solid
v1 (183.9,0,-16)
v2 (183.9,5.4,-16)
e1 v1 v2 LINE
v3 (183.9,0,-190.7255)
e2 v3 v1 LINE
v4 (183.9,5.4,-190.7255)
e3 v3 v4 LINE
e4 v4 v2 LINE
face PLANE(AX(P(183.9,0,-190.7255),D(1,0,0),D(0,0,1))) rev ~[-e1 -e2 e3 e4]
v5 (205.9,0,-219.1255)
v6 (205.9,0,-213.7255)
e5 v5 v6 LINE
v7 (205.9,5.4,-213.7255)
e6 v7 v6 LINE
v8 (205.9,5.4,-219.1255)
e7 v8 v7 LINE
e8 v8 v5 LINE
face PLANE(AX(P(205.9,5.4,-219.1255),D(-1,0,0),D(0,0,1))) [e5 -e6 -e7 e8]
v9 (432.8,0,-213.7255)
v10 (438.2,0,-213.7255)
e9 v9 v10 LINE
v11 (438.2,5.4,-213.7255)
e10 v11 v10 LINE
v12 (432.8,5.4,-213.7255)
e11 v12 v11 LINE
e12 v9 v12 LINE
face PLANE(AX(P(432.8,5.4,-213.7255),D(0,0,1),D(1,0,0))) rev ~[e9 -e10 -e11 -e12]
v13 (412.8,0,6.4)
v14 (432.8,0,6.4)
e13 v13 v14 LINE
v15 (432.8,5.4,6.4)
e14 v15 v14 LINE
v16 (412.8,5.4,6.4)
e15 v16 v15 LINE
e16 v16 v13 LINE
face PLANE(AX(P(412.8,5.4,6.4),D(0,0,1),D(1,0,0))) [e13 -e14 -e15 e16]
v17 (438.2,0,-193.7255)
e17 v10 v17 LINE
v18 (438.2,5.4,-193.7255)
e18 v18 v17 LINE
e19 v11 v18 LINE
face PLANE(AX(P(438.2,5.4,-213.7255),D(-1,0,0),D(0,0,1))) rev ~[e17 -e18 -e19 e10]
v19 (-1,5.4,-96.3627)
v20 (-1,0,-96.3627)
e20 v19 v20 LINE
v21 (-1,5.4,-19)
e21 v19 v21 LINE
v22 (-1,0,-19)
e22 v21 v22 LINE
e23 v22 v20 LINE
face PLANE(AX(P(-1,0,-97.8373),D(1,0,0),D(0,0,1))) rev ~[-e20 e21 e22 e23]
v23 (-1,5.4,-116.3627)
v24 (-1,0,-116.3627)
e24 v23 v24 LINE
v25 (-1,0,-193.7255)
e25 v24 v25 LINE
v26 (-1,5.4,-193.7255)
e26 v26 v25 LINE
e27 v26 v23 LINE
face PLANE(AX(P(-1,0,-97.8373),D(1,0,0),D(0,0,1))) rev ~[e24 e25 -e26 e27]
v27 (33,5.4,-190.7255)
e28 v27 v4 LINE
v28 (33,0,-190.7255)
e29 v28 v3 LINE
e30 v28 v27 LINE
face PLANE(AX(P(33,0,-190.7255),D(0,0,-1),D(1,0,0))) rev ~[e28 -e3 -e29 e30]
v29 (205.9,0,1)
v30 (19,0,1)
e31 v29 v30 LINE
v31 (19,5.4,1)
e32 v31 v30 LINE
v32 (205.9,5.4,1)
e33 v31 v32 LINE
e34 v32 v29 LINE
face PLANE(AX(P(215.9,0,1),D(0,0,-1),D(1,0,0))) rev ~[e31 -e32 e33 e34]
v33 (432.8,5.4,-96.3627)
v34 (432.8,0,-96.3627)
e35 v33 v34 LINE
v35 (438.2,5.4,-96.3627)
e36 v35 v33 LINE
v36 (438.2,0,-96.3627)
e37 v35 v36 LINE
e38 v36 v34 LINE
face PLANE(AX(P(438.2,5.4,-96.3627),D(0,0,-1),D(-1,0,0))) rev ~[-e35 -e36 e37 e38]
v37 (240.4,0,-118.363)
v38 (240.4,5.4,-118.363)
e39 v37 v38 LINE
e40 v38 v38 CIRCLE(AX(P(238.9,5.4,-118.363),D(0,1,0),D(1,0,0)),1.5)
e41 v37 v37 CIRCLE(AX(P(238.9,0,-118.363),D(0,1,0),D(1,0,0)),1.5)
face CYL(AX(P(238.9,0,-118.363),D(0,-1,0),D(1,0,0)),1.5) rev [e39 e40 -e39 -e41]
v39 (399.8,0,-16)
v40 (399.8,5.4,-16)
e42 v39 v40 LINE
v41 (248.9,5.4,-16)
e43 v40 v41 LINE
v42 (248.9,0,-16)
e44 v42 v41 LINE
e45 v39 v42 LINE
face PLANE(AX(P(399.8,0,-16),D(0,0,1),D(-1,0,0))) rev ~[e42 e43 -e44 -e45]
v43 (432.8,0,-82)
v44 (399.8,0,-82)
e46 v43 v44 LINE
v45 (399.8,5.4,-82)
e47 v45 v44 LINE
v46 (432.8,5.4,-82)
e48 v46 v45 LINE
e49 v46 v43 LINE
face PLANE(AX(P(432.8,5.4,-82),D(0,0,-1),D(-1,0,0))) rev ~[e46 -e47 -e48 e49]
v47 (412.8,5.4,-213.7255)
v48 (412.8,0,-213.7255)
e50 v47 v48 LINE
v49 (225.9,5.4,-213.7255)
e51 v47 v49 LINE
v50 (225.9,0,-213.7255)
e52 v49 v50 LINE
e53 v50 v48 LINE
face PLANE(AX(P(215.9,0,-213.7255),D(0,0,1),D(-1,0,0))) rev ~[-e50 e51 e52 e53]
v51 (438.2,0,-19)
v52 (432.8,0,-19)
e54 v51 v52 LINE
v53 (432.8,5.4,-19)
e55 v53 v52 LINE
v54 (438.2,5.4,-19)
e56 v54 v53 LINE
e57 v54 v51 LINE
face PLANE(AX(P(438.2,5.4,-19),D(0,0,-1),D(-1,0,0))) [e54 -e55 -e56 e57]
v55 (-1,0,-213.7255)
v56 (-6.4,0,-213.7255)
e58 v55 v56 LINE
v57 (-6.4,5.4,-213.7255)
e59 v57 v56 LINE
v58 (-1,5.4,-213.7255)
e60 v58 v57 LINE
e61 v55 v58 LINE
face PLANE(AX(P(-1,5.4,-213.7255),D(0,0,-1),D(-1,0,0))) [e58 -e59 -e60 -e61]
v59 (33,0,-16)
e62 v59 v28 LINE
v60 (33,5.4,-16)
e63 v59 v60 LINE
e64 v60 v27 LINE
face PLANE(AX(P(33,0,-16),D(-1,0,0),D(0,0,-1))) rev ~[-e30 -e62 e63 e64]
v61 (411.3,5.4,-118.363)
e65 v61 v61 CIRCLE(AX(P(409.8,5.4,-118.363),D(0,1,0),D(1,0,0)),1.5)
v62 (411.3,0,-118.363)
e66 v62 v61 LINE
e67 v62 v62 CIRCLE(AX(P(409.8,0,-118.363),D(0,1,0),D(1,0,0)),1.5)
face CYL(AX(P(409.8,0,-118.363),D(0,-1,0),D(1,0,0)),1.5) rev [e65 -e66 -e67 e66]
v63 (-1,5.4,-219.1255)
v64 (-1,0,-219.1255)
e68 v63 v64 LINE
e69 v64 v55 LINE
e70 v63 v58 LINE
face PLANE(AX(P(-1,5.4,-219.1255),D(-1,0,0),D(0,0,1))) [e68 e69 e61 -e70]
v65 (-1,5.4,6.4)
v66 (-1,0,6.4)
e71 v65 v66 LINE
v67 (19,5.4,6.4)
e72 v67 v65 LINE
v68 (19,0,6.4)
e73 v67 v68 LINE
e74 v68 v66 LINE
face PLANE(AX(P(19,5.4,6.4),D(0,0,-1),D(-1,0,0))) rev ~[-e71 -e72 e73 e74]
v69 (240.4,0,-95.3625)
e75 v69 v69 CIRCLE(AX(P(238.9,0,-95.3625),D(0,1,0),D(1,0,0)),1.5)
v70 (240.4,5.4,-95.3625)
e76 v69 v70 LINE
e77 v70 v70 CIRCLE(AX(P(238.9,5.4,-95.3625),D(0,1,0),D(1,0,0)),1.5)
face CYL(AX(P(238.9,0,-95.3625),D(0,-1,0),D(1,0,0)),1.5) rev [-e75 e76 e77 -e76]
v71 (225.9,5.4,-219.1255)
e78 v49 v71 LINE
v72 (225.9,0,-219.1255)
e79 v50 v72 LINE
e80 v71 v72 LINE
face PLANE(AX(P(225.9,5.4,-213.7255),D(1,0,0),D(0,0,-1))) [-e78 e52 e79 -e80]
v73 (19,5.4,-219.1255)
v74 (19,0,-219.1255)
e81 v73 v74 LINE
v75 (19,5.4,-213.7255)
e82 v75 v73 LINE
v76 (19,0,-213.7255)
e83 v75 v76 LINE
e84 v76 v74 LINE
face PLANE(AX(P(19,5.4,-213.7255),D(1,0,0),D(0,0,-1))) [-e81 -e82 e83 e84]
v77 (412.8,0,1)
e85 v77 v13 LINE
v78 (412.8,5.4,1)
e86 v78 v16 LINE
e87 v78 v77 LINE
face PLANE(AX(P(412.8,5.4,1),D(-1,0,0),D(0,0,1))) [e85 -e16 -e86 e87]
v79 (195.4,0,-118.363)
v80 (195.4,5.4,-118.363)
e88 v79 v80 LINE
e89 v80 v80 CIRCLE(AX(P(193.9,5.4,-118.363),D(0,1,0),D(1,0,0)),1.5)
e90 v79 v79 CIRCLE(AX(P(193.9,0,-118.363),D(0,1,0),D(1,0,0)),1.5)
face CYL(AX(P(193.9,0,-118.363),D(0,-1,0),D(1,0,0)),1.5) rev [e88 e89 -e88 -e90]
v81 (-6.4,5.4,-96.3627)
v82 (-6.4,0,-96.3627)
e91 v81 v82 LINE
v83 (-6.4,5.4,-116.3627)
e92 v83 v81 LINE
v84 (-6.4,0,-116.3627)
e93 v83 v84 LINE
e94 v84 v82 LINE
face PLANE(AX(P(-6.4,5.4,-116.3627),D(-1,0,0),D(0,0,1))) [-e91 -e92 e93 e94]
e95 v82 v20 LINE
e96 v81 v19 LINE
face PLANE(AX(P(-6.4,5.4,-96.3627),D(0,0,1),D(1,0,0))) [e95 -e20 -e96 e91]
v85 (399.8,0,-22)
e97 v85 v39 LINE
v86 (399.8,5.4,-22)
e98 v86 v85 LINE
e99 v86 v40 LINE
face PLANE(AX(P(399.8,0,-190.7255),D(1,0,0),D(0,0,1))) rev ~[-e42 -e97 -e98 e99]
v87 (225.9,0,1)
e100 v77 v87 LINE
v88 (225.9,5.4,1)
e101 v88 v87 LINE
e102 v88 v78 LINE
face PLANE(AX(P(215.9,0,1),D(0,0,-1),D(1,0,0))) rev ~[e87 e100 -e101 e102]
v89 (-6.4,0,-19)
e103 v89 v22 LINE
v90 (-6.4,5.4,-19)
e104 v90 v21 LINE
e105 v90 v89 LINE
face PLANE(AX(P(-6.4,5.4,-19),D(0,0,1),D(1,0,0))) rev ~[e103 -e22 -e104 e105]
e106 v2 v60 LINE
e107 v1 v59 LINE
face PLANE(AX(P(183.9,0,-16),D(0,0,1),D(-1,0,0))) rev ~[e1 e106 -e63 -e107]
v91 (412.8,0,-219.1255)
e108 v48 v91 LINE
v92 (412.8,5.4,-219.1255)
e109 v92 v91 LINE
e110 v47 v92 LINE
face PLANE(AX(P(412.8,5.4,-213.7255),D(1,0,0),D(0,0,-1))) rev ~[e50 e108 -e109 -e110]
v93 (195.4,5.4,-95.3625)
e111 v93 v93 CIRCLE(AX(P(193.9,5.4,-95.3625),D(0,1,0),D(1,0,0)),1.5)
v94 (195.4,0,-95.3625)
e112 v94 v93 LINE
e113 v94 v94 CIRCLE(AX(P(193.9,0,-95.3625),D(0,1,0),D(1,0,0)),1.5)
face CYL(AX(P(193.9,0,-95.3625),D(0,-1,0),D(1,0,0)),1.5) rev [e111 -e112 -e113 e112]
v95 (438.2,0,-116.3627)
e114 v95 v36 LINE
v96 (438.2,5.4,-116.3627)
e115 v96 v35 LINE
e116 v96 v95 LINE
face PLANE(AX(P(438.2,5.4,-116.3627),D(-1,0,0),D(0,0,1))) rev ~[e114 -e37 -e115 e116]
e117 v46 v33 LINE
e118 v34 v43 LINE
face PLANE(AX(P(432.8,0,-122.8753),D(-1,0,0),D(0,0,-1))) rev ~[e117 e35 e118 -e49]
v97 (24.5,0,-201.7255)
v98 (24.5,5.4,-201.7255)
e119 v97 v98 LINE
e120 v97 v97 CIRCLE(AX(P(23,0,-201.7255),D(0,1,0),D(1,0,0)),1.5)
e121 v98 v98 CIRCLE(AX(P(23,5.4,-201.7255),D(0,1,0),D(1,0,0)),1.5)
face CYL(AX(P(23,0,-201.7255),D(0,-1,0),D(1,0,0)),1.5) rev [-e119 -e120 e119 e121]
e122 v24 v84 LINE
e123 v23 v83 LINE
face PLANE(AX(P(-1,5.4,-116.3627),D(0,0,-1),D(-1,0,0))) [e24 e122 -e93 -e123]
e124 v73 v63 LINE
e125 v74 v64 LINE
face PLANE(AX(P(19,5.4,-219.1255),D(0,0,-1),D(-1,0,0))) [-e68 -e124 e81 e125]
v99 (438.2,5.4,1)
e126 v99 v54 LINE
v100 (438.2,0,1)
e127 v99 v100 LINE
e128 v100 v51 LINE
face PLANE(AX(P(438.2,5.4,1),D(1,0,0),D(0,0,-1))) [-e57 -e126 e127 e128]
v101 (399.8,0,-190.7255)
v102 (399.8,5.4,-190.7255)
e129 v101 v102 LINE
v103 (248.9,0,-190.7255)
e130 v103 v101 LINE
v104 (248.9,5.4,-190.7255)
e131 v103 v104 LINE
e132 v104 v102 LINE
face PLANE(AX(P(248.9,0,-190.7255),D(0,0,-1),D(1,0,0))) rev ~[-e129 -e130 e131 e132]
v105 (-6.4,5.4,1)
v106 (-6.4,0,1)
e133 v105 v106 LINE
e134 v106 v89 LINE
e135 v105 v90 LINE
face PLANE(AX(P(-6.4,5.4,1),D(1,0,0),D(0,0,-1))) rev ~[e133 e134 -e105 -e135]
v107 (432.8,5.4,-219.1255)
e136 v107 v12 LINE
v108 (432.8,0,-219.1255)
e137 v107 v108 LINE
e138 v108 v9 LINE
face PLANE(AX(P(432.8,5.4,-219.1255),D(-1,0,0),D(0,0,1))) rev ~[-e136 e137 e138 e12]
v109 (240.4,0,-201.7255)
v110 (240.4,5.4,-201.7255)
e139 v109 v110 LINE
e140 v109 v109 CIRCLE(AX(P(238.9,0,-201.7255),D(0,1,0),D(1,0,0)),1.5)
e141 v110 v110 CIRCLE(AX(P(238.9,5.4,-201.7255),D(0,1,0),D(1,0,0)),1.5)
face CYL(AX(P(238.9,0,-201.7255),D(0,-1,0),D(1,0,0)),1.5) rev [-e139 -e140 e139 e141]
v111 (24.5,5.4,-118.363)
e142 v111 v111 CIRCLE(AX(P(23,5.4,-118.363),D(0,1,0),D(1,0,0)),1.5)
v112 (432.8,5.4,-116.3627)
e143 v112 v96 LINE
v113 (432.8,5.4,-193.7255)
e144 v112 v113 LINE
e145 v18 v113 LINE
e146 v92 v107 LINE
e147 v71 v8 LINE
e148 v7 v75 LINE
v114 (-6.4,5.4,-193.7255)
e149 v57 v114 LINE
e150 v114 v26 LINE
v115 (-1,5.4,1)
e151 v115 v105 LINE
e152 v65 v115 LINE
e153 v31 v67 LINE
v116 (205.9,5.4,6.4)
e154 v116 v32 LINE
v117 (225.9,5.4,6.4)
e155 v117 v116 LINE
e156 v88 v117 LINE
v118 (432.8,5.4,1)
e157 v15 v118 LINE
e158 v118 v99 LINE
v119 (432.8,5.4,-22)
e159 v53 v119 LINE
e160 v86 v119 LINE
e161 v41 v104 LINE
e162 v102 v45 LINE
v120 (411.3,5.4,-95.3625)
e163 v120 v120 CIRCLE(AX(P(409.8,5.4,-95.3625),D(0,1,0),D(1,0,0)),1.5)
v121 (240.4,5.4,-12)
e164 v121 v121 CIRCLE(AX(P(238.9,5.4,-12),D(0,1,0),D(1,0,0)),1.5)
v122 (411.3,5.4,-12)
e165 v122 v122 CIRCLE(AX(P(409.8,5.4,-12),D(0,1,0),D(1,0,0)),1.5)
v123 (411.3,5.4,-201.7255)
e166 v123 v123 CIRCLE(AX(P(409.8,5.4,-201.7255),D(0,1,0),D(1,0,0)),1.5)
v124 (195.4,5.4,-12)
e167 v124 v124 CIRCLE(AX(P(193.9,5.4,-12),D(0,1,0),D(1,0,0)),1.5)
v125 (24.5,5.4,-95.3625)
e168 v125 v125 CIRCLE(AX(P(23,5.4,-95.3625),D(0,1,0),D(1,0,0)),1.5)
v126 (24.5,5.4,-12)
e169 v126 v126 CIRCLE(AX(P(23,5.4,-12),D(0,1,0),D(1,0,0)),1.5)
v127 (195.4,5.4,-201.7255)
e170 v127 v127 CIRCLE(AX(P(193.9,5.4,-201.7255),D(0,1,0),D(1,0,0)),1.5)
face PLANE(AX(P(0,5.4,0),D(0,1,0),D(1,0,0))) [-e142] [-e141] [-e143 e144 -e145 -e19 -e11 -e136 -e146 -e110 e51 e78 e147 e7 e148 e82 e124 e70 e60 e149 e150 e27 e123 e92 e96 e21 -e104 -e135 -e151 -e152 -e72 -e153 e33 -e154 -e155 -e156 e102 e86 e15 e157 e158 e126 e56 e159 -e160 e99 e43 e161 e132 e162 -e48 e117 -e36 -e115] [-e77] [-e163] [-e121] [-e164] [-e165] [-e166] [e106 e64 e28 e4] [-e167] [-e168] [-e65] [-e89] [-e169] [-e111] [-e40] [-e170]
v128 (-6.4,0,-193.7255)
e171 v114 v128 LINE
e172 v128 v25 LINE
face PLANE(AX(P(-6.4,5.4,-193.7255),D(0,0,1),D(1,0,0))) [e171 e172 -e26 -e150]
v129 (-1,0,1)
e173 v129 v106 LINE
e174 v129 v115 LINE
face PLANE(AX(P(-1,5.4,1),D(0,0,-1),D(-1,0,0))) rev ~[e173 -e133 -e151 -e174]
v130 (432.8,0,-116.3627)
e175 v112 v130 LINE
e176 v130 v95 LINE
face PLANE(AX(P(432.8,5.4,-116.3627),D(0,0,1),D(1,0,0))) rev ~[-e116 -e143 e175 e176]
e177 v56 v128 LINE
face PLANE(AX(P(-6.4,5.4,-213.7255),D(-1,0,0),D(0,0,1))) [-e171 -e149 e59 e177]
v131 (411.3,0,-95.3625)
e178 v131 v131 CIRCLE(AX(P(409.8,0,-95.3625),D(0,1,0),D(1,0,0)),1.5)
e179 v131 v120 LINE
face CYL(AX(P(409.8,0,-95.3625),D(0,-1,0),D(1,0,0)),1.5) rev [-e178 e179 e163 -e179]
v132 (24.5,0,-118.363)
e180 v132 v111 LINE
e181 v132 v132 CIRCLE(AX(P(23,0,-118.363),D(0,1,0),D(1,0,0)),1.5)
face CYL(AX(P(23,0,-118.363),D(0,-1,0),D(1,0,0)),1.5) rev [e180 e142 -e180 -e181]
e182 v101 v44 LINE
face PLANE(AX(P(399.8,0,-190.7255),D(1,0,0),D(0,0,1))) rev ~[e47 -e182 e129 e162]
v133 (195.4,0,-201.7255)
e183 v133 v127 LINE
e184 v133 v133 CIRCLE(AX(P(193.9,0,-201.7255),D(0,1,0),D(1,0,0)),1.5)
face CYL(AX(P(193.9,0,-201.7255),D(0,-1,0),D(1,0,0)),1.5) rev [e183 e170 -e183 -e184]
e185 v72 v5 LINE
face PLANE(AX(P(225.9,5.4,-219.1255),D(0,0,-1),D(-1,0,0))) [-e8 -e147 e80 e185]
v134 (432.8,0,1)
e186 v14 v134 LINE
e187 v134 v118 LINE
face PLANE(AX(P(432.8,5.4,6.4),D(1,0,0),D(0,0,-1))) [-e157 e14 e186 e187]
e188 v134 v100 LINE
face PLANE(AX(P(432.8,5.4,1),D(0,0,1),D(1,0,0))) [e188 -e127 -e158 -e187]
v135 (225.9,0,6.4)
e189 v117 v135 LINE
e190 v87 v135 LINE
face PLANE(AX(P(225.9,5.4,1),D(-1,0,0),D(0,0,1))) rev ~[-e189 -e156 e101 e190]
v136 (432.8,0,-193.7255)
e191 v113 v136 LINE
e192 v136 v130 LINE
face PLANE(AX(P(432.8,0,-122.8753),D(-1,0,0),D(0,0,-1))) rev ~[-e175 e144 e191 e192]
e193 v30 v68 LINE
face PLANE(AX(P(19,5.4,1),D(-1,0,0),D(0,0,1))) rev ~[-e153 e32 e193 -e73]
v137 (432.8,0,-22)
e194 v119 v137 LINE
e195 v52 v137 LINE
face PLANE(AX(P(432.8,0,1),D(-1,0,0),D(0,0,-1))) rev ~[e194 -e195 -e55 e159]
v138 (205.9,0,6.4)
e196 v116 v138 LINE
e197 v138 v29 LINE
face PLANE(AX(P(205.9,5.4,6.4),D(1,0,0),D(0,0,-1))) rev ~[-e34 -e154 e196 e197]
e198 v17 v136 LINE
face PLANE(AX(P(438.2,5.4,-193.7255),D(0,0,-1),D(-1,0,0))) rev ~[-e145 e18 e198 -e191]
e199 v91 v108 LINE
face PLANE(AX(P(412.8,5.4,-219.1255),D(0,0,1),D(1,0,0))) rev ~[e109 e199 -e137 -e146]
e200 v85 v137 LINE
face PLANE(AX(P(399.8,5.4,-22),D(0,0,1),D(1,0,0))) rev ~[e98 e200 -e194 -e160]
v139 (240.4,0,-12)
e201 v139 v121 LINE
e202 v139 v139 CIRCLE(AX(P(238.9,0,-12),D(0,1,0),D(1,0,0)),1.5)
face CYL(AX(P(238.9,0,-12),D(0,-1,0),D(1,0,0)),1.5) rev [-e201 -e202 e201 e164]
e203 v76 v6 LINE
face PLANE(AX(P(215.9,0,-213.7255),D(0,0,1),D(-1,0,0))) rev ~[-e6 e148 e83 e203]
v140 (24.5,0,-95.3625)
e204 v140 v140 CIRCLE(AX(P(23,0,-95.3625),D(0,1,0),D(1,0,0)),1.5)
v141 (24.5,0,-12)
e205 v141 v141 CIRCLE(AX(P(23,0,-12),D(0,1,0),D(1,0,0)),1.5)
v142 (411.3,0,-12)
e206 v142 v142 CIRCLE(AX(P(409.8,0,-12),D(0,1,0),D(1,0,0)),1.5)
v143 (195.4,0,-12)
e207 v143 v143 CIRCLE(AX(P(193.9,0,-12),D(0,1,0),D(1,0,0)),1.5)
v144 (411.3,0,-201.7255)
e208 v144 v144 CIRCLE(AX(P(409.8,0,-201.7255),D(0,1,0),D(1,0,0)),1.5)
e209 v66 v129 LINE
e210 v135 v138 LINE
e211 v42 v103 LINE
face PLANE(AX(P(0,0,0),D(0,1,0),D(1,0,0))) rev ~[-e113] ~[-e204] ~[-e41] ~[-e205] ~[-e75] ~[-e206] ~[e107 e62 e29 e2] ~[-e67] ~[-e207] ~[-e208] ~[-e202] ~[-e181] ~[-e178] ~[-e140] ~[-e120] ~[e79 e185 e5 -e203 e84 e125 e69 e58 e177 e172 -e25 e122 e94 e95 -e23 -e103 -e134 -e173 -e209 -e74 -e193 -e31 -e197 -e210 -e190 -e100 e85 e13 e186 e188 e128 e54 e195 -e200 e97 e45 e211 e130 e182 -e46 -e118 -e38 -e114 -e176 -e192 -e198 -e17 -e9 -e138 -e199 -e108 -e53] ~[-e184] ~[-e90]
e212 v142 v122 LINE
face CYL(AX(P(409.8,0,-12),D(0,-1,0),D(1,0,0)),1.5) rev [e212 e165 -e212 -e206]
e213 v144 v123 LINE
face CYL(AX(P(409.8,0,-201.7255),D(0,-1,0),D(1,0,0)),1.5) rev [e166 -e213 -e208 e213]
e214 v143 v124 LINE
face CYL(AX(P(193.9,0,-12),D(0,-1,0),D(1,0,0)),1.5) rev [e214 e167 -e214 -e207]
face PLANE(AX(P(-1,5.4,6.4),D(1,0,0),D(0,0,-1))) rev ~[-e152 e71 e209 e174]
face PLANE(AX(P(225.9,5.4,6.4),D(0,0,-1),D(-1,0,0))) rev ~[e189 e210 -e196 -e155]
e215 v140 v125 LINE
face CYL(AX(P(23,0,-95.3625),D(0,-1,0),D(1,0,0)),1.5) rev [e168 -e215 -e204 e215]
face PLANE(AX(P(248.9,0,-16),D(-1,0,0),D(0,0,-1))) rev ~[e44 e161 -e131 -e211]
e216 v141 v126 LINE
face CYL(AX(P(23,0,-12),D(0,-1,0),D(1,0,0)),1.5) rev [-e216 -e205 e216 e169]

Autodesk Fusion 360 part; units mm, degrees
sketch "Sketch1" plane through (0, 0, 0) normal (0, 1, 0) x (1, 0, 0)
  line L0 (193.9, 118.363) -> (193.9, 201.7255) construction
  line L1 (183.9, 190.7255) -> (183.9, 16)
  line L2 (23, 201.7255) -> (23, 118.363) construction
  line L3 (23, 12) -> (193.9, 12) construction
  circle A0 centre (23, 12) radius 1.5
  circle A1 centre (238.9, 12) radius 1.5
  line L4 (193.9, 95.3625) -> (23, 95.3625) construction
  line L5 (399.8, 190.7255) -> (399.8, 16)
  circle A2 centre (238.9, 95.3625) radius 1.5
  circle A3 centre (23, 201.7255) radius 1.5
  line L6 (33, 16) -> (33, 190.7255)
  line L7 (0, 212.7255) -> (0, 106.363) construction
  circle A4 centre (23, 118.363) radius 1.5
  circle A5 centre (193.9, 201.7255) radius 1.5
  circle A6 centre (23, 95.3625) radius 1.5
  line L8 (0, 106.3625) -> (0, 0) construction
  circle A7 centre (193.9, 95.3625) radius 1.5
  line L9 (23, 118.363) -> (193.9, 118.363) construction
  line L10 (193.9, 12) -> (193.9, 95.3625) construction
  circle A8 centre (193.9, 118.363) radius 1.5
  circle A9 centre (193.9, 12) radius 1.5
  line L11 (183.9, 16) -> (33, 16)
  line L12 (215.9, 0) -> (215.9, 106.3625) construction
  circle A10 centre (409.8, 118.363) radius 1.5
  line L13 (238.9, 118.363) -> (409.8, 118.363) construction
  line L14 (23, 95.3625) -> (23, 12) construction
  line L15 (215.9, 0) -> (431.8, 0) construction
  line L16 (431.8, 0) -> (431.8, 106.3625) construction
  line L17 (0, 106.363) -> (215.9, 106.363) construction
  circle A11 centre (409.8, 201.7255) radius 1.5
  line L18 (215.9, 106.3625) -> (0, 106.3625) construction
  line L19 (409.8, 201.7255) -> (238.9, 201.7255) construction
  line L20 (409.8, 12) -> (409.8, 95.3625) construction
  line L21 (215.9, 212.7255) -> (0, 212.7255) construction
  line L22 (0, 0) -> (215.9, 0) construction
  line L23 (215.9, 106.3625) -> (215.9, 0) construction
  circle A12 centre (409.8, 12) radius 1.5
  line L24 (215.9, 106.363) -> (431.8, 106.363) construction
  line L25 (409.8, 118.363) -> (409.8, 201.7255) construction
  line L26 (215.9, 106.363) -> (215.9, 212.7255) construction
  line L27 (238.9, 95.3625) -> (238.9, 12) construction
  circle A13 centre (409.8, 95.3625) radius 1.5
  line L28 (238.9, 12) -> (409.8, 12) construction
  line L29 (248.9, 16) -> (248.9, 190.7255)
  line L30 (248.9, 190.7255) -> (399.8, 190.7255)
  line L31 (431.8, 106.363) -> (431.8, 212.7255) construction
  line L32 (399.8, 16) -> (248.9, 16)
  line L33 (431.8, 212.7255) -> (215.9, 212.7255) construction
  line L34 (409.8, 95.3625) -> (238.9, 95.3625) construction
  line L35 (193.9, 201.7255) -> (23, 201.7255) construction
  line L36 (431.8, 106.3625) -> (215.9, 106.3625) construction
  line L37 (33, 190.7255) -> (183.9, 190.7255)
  circle A14 centre (238.9, 118.363) radius 1.5
  circle A15 centre (238.9, 201.7255) radius 1.5
  line L38 (238.9, 201.7255) -> (238.9, 118.363) construction
  line L39 (215.9, 212.7255) -> (215.9, 106.363) construction
  line L40 (432.8, 122.8753) -> (432.8, 213.7255)
  line L41 (432.8, 213.7255) -> (215.9, 213.7255)
  line L42 (215.9, 213.7255) -> (-1, 213.7255)
  line L43 (-1, 213.7255) -> (-1, 97.8373)
  line L44 (-1, 97.8373) -> (-1, -1)
  line L45 (-1, -1) -> (215.9, -1)
  line L46 (215.9, -1) -> (432.8, -1)
  line L47 (432.8, -1) -> (432.8, 122.8753)
  point P0 (215.9, 106.363)
  point P1 (0, 106.363)
  point P2 (215.9, 0)
  dimension "d3" = 215.9
  dimension "d4" = 106.363
  dimension "d5" = 106.3625
  dimension "d6" = 215.9
  dimension "d7" = 23
  dimension "d8" = 11
  dimension "d9" = 12
  dimension "d10" = 22
  dimension "d11" = 3
  dimension "d12" = 3
  dimension "d13" = 3
  dimension "d14" = 3
  dimension "d15" = 10
  dimension "d16" = 11
  dimension "d17" = 4
  dimension "d18" = 10
  dimension "d19" = 10
  dimension "d20" = 11
  dimension "d21" = 10
  dimension "d22" = 4
  dimension "d23" = 1
  dimension "d24" = 1
extrude "Extrude1" add sketch "Sketch1" along normal blind 5.4
sketch "Sketch2" plane through (0, 5.4, 0) normal (0, 1, 0) x (-1, 0, 0)
  circle A0 centre (-409.8, -12) radius 1.5
  circle A1 centre (-23, -95.3625) radius 1.5
  circle A2 centre (-409.8, -201.7255) radius 1.5
  circle A3 centre (-409.8, -95.3625) radius 1.5
  circle A4 centre (-238.9, -118.363) radius 1.5
  circle A5 centre (-238.9, -201.7255) radius 1.5
  circle A6 centre (-23, -12) radius 1.5
  circle A7 centre (-193.9, -201.7255) radius 1.5
  circle A8 centre (-193.9, -95.3625) radius 1.5
  line L0 (-399.8, -190.7255) -> (-399.8, -16)
  line L1 (-399.8, -16) -> (-248.9, -16)
  line L2 (-248.9, -16) -> (-248.9, -190.7255)
  line L3 (-248.9, -190.7255) -> (-399.8, -190.7255)
  circle A9 centre (-23, -201.7255) radius 1.5
  line L4 (-33, -16) -> (-33, -190.7255)
  line L5 (-33, -190.7255) -> (-183.9, -190.7255)
  line L6 (-183.9, -190.7255) -> (-183.9, -16)
  line L7 (-183.9, -16) -> (-33, -16)
  circle A10 centre (-23, -118.363) radius 1.5
  circle A11 centre (-238.9, -12) radius 1.5
  circle A12 centre (-238.9, -95.3625) radius 1.5
  circle A13 centre (-193.9, -118.363) radius 1.5
  circle A14 centre (-409.8, -118.363) radius 1.5
  circle A15 centre (-193.9, -12) radius 1.5
  line L8 (-432.8, 1) -> (-432.8, -122.8753)
  line L9 (-432.8, -122.8753) -> (-432.8, -213.7255)
  line L10 (-432.8, -213.7255) -> (1, -213.7255)
  line L11 (1, -213.7255) -> (1, -97.8373)
  line L12 (1, -97.8373) -> (1, 1)
  line L13 (1, 1) -> (-432.8, 1)
  line L14 (-399.8, -22) -> (-432.8, -22)
  line L15 (-432.8, -22) -> (-432.8, -82)
  line L16 (-432.8, -82) -> (-399.8, -82)
  line L17 (-399.8, -82) -> (-399.8, -22)
  dimension "d27" = 60
  dimension "d65" = 6
  dimension "d66" = 60
extrude "Extrude2" cut sketch "Sketch2" against normal blind 20 contours L0 L8 L14 L15 L16 L17
sketch "Sketch3" plane through (0, 5.4, 0) normal (0, 1, 0) x (-1, 0, 0)
  circle A0 centre (-193.9, -12) radius 1.5
  circle A1 centre (-409.8, -118.363) radius 1.5
  circle A2 centre (-193.9, -118.363) radius 1.5
  circle A3 centre (-238.9, -95.3625) radius 1.5
  circle A4 centre (-238.9, -12) radius 1.5
  circle A5 centre (-23, -118.363) radius 1.5
  line L0 (-33, -16) -> (-33, -190.7255)
  line L1 (-33, -190.7255) -> (-183.9, -190.7255)
  line L2 (-183.9, -190.7255) -> (-183.9, -16)
  line L3 (-183.9, -16) -> (-33, -16)
  circle A6 centre (-23, -201.7255) radius 1.5
  line L4 (-432.8, -22) -> (-399.8, -22)
  line L5 (-248.9, -16) -> (-248.9, -190.7255)
  line L6 (-248.9, -190.7255) -> (-399.8, -190.7255)
  line L7 (-399.8, -22) -> (-399.8, -16)
  line L8 (-399.8, -82) -> (-432.8, -82)
  line L9 (-432.8, -82) -> (-432.8, -122.8753)
  line L10 (-432.8, -122.8753) -> (-432.8, -213.7255)
  line L11 (-432.8, -213.7255) -> (1, -213.7255)
  line L12 (1, -213.7255) -> (1, -97.8373)
  line L13 (1, -97.8373) -> (1, 1)
  line L14 (1, 1) -> (-432.8, 1)
  line L15 (-432.8, 1) -> (-432.8, -22)
  circle A7 centre (-193.9, -95.3625) radius 1.5
  circle A8 centre (-193.9, -201.7255) radius 1.5
  circle A9 centre (-23, -12) radius 1.5
  circle A10 centre (-238.9, -201.7255) radius 1.5
  circle A11 centre (-238.9, -118.363) radius 1.5
  circle A12 centre (-409.8, -95.3625) radius 1.5
  circle A13 centre (-409.8, -201.7255) radius 1.5
  circle A14 centre (-23, -95.3625) radius 1.5
  circle A15 centre (-409.8, -12) radius 1.5
  line L16 (1, -213.7255) -> (6.4, -213.7255)
  line L17 (6.4, -213.7255) -> (6.4, -193.7255)
  line L18 (6.4, -193.7255) -> (1, -193.7255)
  line L19 (1, -193.7255) -> (1, -213.7255)
  line L20 (1, 1) -> (6.4, 1)
  line L21 (6.4, 1) -> (6.4, -19)
  line L22 (6.4, -19) -> (1, -19)
  line L23 (1, -19) -> (1, 1)
  line L24 (1, 1) -> (-19, 1)
  line L25 (-19, 1) -> (-19, 6.4)
  line L26 (-19, 6.4) -> (1, 6.4)
  line L27 (1, 6.4) -> (1, 1)
  line L28 (1, -213.7255) -> (-19, -213.7255)
  line L29 (-19, -213.7255) -> (-19, -219.1255)
  line L30 (-19, -219.1255) -> (1, -219.1255)
  line L31 (1, -219.1255) -> (1, -213.7255)
  line L32 (-432.8, -213.7255) -> (-412.8, -213.7255)
  line L33 (-412.8, -213.7255) -> (-412.8, -219.1255)
  line L34 (-412.8, -219.1255) -> (-432.8, -219.1255)
  line L35 (-432.8, -219.1255) -> (-432.8, -213.7255)
  line L36 (-432.8, -213.7255) -> (-438.2, -213.7255)
  line L37 (-438.2, -213.7255) -> (-438.2, -193.7255)
  line L38 (-438.2, -193.7255) -> (-432.8, -193.7255)
  line L39 (-432.8, -193.7255) -> (-432.8, -213.7255)
  line L40 (-432.8, 1) -> (-438.2, 1)
  line L41 (-438.2, 1) -> (-438.2, -19)
  line L42 (-438.2, -19) -> (-432.8, -19)
  line L43 (-432.8, -19) -> (-432.8, 1)
  line L44 (-432.8, 1) -> (-412.8, 1)
  line L45 (-412.8, 1) -> (-412.8, 6.4)
  line L46 (-412.8, 6.4) -> (-432.8, 6.4)
  line L47 (-432.8, 6.4) -> (-432.8, 1)
  line L48 (-205.9, 1) -> (-225.9, 1)
  line L49 (-225.9, 1) -> (-225.9, 6.4)
  line L50 (-225.9, 6.4) -> (-205.9, 6.4)
  line L51 (-205.9, 6.4) -> (-205.9, 1)
  line L52 (-205.9, -213.7255) -> (-225.9, -213.7255)
  line L53 (-225.9, -213.7255) -> (-225.9, -219.1255)
  line L54 (-225.9, -219.1255) -> (-205.9, -219.1255)
  line L55 (-205.9, -219.1255) -> (-205.9, -213.7255)
  line L56 (-399.8, -16) -> (-248.9, -16)
  line L57 (-399.8, -190.7255) -> (-399.8, -82)
  dimension "d30" = 5.4
  dimension "d31" = 20
  dimension "d32" = 5.4
  dimension "d33" = 20
  dimension "d34" = 20
  dimension "d35" = 5.4
  dimension "d36" = 5.4
  dimension "d37" = 20
  dimension "d38" = 20
  dimension "d39" = 5.4
  dimension "d40" = 5.4
  dimension "d41" = 20
  dimension "d42" = 5.4
  dimension "d43" = 20
  dimension "d44" = 20
  dimension "d45" = 5.4
  dimension "d46" = 20
  dimension "d47" = 5.4
  dimension "d48" = 20
  dimension "d49" = 5.4
  dimension "d50" = 206.9
  dimension "d51" = 206.9
  dimension "d63" = 433.8
extrude "Extrude3" add sketch "Sketch3" against normal blind 5.4 contours L15 L40 L41 L42 L43 | L14 L44 L45 L46 L47 | L14 L48 L49 L50 L51 | L14 L24 L25 L26 L27 | L13 L20 L21 L22 L23 | L10 L36 L37 L38 L39 | L11 L32 L33 L34 L35 | L12 L16 L17 L18 L19 | L11 L28 L29 L30 L31 | L11 L52 L53 L54 L55
sketch "Sketch4" plane through (0, 5.4, 0) normal (0, 1, 0) x (-1, 0, 0)
  circle A0 centre (-193.9, -12) radius 1.5
  circle A1 centre (-409.8, -118.363) radius 1.5
  circle A2 centre (-193.9, -118.363) radius 1.5
  circle A3 centre (-238.9, -95.3625) radius 1.5
  circle A4 centre (-238.9, -12) radius 1.5
  circle A5 centre (-23, -118.363) radius 1.5
  line L0 (-33, -16) -> (-33, -190.7255)
  line L1 (-33, -190.7255) -> (-183.9, -190.7255)
  line L2 (-183.9, -190.7255) -> (-183.9, -16)
  line L3 (-183.9, -16) -> (-33, -16)
  circle A6 centre (-23, -201.7255) radius 1.5
  line L4 (-432.8, -22) -> (-399.8, -22)
  line L5 (-248.9, -16) -> (-248.9, -190.7255)
  line L6 (-248.9, -190.7255) -> (-399.8, -190.7255)
  line L7 (-399.8, -22) -> (-399.8, -16)
  line L8 (-399.8, -82) -> (-432.8, -82)
  line L9 (-432.8, -82) -> (-432.8, -122.8753)
  line L10 (-432.8, -122.8753) -> (-432.8, -193.7255)
  line L11 (-432.8, -193.7255) -> (-438.2, -193.7255)
  line L12 (-438.2, -193.7255) -> (-438.2, -213.7255)
  line L13 (-438.2, -213.7255) -> (-432.8, -213.7255)
  line L14 (-432.8, -213.7255) -> (-432.8, -219.1255)
  line L15 (-432.8, -219.1255) -> (-412.8, -219.1255)
  line L16 (-412.8, -219.1255) -> (-412.8, -213.7255)
  line L17 (-412.8, -213.7255) -> (-225.9, -213.7255)
  line L18 (-225.9, -213.7255) -> (-225.9, -219.1255)
  line L19 (-225.9, -219.1255) -> (-205.9, -219.1255)
  line L20 (-205.9, -219.1255) -> (-205.9, -213.7255)
  line L21 (-205.9, -213.7255) -> (-19, -213.7255)
  line L22 (-19, -213.7255) -> (-19, -219.1255)
  line L23 (-19, -219.1255) -> (1, -219.1255)
  line L24 (1, -219.1255) -> (1, -213.7255)
  line L25 (1, -213.7255) -> (6.4, -213.7255)
  line L26 (6.4, -213.7255) -> (6.4, -193.7255)
  line L27 (6.4, -193.7255) -> (1, -193.7255)
  line L28 (1, -193.7255) -> (1, -97.8373)
  line L29 (1, -97.8373) -> (1, -19)
  line L30 (1, -19) -> (6.4, -19)
  line L31 (6.4, -19) -> (6.4, 1)
  line L32 (6.4, 1) -> (1, 1)
  line L33 (1, 1) -> (1, 6.4)
  line L34 (1, 6.4) -> (-19, 6.4)
  line L35 (-19, 6.4) -> (-19, 1)
  line L36 (-19, 1) -> (-205.9, 1)
  line L37 (-205.9, 1) -> (-205.9, 6.4)
  line L38 (-205.9, 6.4) -> (-225.9, 6.4)
  line L39 (-225.9, 6.4) -> (-225.9, 1)
  line L40 (-225.9, 1) -> (-412.8, 1)
  line L41 (-412.8, 1) -> (-412.8, 6.4)
  line L42 (-412.8, 6.4) -> (-432.8, 6.4)
  line L43 (-432.8, 6.4) -> (-432.8, 1)
  line L44 (-432.8, 1) -> (-438.2, 1)
  line L45 (-438.2, 1) -> (-438.2, -19)
  line L46 (-438.2, -19) -> (-432.8, -19)
  line L47 (-432.8, -19) -> (-432.8, -22)
  circle A7 centre (-193.9, -95.3625) radius 1.5
  circle A8 centre (-193.9, -201.7255) radius 1.5
  circle A9 centre (-23, -12) radius 1.5
  circle A10 centre (-238.9, -201.7255) radius 1.5
  circle A11 centre (-238.9, -118.363) radius 1.5
  circle A12 centre (-409.8, -95.3625) radius 1.5
  circle A13 centre (-409.8, -201.7255) radius 1.5
  circle A14 centre (-23, -95.3625) radius 1.5
  circle A15 centre (-409.8, -12) radius 1.5
  line L48 (1, -116.3627) -> (6.4, -116.3627)
  line L49 (6.4, -116.3627) -> (6.4, -96.3627)
  line L50 (6.4, -96.3627) -> (1, -96.3627)
  line L51 (1, -96.3627) -> (1, -116.3627)
  line L52 (-215.9, 6.4) -> (-215.9, -219.1255) construction
  line L53 (-432.8, -116.3627) -> (-438.2, -116.3627)
  line L54 (-438.2, -116.3627) -> (-438.2, -96.3627)
  line L55 (-438.2, -96.3627) -> (-432.8, -96.3627)
  line L56 (-432.8, -96.3627) -> (-432.8, -116.3627)
  line L57 (-399.8, -16) -> (-248.9, -16)
  line L58 (-399.8, -190.7255) -> (-399.8, -82)
  dimension "d54" = 20
  dimension "d55" = 5.4
  dimension "d56" = 174.7255
  dimension "d57" = 77.3628
  dimension "d58" = 5.4
  dimension "d59" = 20
  dimension "d64" = 77.3628
  dimension "d67" = 20
  dimension "d68" = 5.4
extrude "Extrude4" add sketch "Sketch4" against normal blind 5.4 contours L9 L53 L54 L55 L56 | L28 L29 L48 L49 L50 L51
sketch "export" plane through (0, 5.4, 0) normal (0, 1, 0) x (-1, 0, 0)
  circle A0 centre (-238.9, -201.7255) radius 1.5
  line L0 (-432.8, -22) -> (-399.8, -22)
  line L1 (-399.8, -22) -> (-399.8, -16)
  line L2 (-399.8, -16) -> (-248.9, -16)
  line L3 (-248.9, -16) -> (-248.9, -190.7255)
  line L4 (-248.9, -190.7255) -> (-399.8, -190.7255)
  line L5 (-399.8, -190.7255) -> (-399.8, -82)
  line L6 (-399.8, -82) -> (-432.8, -82)
  line L7 (-432.8, -82) -> (-432.8, -96.3627)
  line L8 (-432.8, -96.3627) -> (-438.2, -96.3627)
  line L9 (-438.2, -96.3627) -> (-438.2, -116.3627)
  line L10 (-438.2, -116.3627) -> (-432.8, -116.3627)
  line L11 (-432.8, -116.3627) -> (-432.8, -122.8753)
  line L12 (-432.8, -122.8753) -> (-432.8, -193.7255)
  line L13 (-432.8, -193.7255) -> (-438.2, -193.7255)
  line L14 (-438.2, -193.7255) -> (-438.2, -213.7255)
  line L15 (-438.2, -213.7255) -> (-432.8, -213.7255)
  line L16 (-432.8, -213.7255) -> (-432.8, -219.1255)
  line L17 (-432.8, -219.1255) -> (-412.8, -219.1255)
  line L18 (-412.8, -219.1255) -> (-412.8, -213.7255)
  line L19 (-412.8, -213.7255) -> (-225.9, -213.7255)
  line L20 (-225.9, -213.7255) -> (-225.9, -219.1255)
  line L21 (-225.9, -219.1255) -> (-205.9, -219.1255)
  line L22 (-205.9, -219.1255) -> (-205.9, -213.7255)
  line L23 (-205.9, -213.7255) -> (-19, -213.7255)
  line L24 (-19, -213.7255) -> (-19, -219.1255)
  line L25 (-19, -219.1255) -> (1, -219.1255)
  line L26 (1, -219.1255) -> (1, -213.7255)
  line L27 (1, -213.7255) -> (6.4, -213.7255)
  line L28 (6.4, -213.7255) -> (6.4, -193.7255)
  line L29 (6.4, -193.7255) -> (1, -193.7255)
  line L30 (1, -193.7255) -> (1, -116.3627)
  line L31 (1, -116.3627) -> (6.4, -116.3627)
  line L32 (6.4, -116.3627) -> (6.4, -96.3627)
  line L33 (6.4, -96.3627) -> (1, -96.3627)
  line L34 (1, -96.3627) -> (1, -19)
  line L35 (1, -19) -> (6.4, -19)
  line L36 (6.4, -19) -> (6.4, 1)
  line L37 (6.4, 1) -> (1, 1)
  line L38 (1, 1) -> (1, 6.4)
  line L39 (1, 6.4) -> (-19, 6.4)
  line L40 (-19, 6.4) -> (-19, 1)
  line L41 (-19, 1) -> (-205.9, 1)
  line L42 (-205.9, 1) -> (-205.9, 6.4)
  line L43 (-205.9, 6.4) -> (-225.9, 6.4)
  line L44 (-225.9, 6.4) -> (-225.9, 1)
  line L45 (-225.9, 1) -> (-412.8, 1)
  line L46 (-412.8, 1) -> (-412.8, 6.4)
  line L47 (-412.8, 6.4) -> (-432.8, 6.4)
  line L48 (-432.8, 6.4) -> (-432.8, 1)
  line L49 (-432.8, 1) -> (-438.2, 1)
  line L50 (-438.2, 1) -> (-438.2, -19)
  line L51 (-438.2, -19) -> (-432.8, -19)
  line L52 (-432.8, -19) -> (-432.8, -22)
  circle A1 centre (-238.9, -12) radius 1.5
  circle A2 centre (-238.9, -118.363) radius 1.5
  line L53 (-33, -16) -> (-33, -190.7255)
  line L54 (-33, -190.7255) -> (-183.9, -190.7255)
  line L55 (-183.9, -190.7255) -> (-183.9, -16)
  line L56 (-183.9, -16) -> (-33, -16)
  circle A3 centre (-409.8, -95.3625) radius 1.5
  circle A4 centre (-409.8, -12) radius 1.5
  circle A5 centre (-238.9, -95.3625) radius 1.5
  circle A6 centre (-409.8, -118.363) radius 1.5
  circle A7 centre (-409.8, -201.7255) radius 1.5
  circle A8 centre (-193.9, -12) radius 1.5
  circle A9 centre (-193.9, -118.363) radius 1.5
  circle A10 centre (-23, -118.363) radius 1.5
  circle A11 centre (-23, -201.7255) radius 1.5
  circle A12 centre (-193.9, -201.7255) radius 1.5
  circle A13 centre (-193.9, -95.3625) radius 1.5
  circle A14 centre (-23, -95.3625) radius 1.5
  circle A15 centre (-23, -12) radius 1.5
equation "d11 = d12"
equation "d13 = d12"
equation "d14 = d12"
equation "d17 = 11.00 mm - 7 mm"
equation "d22 = d17"
equation "d30 = d36"
equation "d31 = d33"
equation "d32 = d36"
equation "d34 = d33"
equation "d35 = d36"
equation "d37 = d33"
equation "d38 = d33"
equation "d39 = d36"
equation "d40 = d36"
equation "d41 = d33"
equation "d42 = d36"
equation "d43 = d33"
equation "d44 = d33"
equation "d45 = d36"
equation "d46 = d33"
equation "d47 = d36"
equation "d48 = d33"
equation "d49 = d36"
equation "d50 = ( d63 - d48 ) / 2"
equation "d51 = d50"
equation "d54 = d67"
equation "d55 = d68"
equation "d57 = ( d56 - d54 ) / 2"
equation "d58 = d55"
equation "d59 = d54"
equation "d64 = d57"
equation "d66 = d27"
